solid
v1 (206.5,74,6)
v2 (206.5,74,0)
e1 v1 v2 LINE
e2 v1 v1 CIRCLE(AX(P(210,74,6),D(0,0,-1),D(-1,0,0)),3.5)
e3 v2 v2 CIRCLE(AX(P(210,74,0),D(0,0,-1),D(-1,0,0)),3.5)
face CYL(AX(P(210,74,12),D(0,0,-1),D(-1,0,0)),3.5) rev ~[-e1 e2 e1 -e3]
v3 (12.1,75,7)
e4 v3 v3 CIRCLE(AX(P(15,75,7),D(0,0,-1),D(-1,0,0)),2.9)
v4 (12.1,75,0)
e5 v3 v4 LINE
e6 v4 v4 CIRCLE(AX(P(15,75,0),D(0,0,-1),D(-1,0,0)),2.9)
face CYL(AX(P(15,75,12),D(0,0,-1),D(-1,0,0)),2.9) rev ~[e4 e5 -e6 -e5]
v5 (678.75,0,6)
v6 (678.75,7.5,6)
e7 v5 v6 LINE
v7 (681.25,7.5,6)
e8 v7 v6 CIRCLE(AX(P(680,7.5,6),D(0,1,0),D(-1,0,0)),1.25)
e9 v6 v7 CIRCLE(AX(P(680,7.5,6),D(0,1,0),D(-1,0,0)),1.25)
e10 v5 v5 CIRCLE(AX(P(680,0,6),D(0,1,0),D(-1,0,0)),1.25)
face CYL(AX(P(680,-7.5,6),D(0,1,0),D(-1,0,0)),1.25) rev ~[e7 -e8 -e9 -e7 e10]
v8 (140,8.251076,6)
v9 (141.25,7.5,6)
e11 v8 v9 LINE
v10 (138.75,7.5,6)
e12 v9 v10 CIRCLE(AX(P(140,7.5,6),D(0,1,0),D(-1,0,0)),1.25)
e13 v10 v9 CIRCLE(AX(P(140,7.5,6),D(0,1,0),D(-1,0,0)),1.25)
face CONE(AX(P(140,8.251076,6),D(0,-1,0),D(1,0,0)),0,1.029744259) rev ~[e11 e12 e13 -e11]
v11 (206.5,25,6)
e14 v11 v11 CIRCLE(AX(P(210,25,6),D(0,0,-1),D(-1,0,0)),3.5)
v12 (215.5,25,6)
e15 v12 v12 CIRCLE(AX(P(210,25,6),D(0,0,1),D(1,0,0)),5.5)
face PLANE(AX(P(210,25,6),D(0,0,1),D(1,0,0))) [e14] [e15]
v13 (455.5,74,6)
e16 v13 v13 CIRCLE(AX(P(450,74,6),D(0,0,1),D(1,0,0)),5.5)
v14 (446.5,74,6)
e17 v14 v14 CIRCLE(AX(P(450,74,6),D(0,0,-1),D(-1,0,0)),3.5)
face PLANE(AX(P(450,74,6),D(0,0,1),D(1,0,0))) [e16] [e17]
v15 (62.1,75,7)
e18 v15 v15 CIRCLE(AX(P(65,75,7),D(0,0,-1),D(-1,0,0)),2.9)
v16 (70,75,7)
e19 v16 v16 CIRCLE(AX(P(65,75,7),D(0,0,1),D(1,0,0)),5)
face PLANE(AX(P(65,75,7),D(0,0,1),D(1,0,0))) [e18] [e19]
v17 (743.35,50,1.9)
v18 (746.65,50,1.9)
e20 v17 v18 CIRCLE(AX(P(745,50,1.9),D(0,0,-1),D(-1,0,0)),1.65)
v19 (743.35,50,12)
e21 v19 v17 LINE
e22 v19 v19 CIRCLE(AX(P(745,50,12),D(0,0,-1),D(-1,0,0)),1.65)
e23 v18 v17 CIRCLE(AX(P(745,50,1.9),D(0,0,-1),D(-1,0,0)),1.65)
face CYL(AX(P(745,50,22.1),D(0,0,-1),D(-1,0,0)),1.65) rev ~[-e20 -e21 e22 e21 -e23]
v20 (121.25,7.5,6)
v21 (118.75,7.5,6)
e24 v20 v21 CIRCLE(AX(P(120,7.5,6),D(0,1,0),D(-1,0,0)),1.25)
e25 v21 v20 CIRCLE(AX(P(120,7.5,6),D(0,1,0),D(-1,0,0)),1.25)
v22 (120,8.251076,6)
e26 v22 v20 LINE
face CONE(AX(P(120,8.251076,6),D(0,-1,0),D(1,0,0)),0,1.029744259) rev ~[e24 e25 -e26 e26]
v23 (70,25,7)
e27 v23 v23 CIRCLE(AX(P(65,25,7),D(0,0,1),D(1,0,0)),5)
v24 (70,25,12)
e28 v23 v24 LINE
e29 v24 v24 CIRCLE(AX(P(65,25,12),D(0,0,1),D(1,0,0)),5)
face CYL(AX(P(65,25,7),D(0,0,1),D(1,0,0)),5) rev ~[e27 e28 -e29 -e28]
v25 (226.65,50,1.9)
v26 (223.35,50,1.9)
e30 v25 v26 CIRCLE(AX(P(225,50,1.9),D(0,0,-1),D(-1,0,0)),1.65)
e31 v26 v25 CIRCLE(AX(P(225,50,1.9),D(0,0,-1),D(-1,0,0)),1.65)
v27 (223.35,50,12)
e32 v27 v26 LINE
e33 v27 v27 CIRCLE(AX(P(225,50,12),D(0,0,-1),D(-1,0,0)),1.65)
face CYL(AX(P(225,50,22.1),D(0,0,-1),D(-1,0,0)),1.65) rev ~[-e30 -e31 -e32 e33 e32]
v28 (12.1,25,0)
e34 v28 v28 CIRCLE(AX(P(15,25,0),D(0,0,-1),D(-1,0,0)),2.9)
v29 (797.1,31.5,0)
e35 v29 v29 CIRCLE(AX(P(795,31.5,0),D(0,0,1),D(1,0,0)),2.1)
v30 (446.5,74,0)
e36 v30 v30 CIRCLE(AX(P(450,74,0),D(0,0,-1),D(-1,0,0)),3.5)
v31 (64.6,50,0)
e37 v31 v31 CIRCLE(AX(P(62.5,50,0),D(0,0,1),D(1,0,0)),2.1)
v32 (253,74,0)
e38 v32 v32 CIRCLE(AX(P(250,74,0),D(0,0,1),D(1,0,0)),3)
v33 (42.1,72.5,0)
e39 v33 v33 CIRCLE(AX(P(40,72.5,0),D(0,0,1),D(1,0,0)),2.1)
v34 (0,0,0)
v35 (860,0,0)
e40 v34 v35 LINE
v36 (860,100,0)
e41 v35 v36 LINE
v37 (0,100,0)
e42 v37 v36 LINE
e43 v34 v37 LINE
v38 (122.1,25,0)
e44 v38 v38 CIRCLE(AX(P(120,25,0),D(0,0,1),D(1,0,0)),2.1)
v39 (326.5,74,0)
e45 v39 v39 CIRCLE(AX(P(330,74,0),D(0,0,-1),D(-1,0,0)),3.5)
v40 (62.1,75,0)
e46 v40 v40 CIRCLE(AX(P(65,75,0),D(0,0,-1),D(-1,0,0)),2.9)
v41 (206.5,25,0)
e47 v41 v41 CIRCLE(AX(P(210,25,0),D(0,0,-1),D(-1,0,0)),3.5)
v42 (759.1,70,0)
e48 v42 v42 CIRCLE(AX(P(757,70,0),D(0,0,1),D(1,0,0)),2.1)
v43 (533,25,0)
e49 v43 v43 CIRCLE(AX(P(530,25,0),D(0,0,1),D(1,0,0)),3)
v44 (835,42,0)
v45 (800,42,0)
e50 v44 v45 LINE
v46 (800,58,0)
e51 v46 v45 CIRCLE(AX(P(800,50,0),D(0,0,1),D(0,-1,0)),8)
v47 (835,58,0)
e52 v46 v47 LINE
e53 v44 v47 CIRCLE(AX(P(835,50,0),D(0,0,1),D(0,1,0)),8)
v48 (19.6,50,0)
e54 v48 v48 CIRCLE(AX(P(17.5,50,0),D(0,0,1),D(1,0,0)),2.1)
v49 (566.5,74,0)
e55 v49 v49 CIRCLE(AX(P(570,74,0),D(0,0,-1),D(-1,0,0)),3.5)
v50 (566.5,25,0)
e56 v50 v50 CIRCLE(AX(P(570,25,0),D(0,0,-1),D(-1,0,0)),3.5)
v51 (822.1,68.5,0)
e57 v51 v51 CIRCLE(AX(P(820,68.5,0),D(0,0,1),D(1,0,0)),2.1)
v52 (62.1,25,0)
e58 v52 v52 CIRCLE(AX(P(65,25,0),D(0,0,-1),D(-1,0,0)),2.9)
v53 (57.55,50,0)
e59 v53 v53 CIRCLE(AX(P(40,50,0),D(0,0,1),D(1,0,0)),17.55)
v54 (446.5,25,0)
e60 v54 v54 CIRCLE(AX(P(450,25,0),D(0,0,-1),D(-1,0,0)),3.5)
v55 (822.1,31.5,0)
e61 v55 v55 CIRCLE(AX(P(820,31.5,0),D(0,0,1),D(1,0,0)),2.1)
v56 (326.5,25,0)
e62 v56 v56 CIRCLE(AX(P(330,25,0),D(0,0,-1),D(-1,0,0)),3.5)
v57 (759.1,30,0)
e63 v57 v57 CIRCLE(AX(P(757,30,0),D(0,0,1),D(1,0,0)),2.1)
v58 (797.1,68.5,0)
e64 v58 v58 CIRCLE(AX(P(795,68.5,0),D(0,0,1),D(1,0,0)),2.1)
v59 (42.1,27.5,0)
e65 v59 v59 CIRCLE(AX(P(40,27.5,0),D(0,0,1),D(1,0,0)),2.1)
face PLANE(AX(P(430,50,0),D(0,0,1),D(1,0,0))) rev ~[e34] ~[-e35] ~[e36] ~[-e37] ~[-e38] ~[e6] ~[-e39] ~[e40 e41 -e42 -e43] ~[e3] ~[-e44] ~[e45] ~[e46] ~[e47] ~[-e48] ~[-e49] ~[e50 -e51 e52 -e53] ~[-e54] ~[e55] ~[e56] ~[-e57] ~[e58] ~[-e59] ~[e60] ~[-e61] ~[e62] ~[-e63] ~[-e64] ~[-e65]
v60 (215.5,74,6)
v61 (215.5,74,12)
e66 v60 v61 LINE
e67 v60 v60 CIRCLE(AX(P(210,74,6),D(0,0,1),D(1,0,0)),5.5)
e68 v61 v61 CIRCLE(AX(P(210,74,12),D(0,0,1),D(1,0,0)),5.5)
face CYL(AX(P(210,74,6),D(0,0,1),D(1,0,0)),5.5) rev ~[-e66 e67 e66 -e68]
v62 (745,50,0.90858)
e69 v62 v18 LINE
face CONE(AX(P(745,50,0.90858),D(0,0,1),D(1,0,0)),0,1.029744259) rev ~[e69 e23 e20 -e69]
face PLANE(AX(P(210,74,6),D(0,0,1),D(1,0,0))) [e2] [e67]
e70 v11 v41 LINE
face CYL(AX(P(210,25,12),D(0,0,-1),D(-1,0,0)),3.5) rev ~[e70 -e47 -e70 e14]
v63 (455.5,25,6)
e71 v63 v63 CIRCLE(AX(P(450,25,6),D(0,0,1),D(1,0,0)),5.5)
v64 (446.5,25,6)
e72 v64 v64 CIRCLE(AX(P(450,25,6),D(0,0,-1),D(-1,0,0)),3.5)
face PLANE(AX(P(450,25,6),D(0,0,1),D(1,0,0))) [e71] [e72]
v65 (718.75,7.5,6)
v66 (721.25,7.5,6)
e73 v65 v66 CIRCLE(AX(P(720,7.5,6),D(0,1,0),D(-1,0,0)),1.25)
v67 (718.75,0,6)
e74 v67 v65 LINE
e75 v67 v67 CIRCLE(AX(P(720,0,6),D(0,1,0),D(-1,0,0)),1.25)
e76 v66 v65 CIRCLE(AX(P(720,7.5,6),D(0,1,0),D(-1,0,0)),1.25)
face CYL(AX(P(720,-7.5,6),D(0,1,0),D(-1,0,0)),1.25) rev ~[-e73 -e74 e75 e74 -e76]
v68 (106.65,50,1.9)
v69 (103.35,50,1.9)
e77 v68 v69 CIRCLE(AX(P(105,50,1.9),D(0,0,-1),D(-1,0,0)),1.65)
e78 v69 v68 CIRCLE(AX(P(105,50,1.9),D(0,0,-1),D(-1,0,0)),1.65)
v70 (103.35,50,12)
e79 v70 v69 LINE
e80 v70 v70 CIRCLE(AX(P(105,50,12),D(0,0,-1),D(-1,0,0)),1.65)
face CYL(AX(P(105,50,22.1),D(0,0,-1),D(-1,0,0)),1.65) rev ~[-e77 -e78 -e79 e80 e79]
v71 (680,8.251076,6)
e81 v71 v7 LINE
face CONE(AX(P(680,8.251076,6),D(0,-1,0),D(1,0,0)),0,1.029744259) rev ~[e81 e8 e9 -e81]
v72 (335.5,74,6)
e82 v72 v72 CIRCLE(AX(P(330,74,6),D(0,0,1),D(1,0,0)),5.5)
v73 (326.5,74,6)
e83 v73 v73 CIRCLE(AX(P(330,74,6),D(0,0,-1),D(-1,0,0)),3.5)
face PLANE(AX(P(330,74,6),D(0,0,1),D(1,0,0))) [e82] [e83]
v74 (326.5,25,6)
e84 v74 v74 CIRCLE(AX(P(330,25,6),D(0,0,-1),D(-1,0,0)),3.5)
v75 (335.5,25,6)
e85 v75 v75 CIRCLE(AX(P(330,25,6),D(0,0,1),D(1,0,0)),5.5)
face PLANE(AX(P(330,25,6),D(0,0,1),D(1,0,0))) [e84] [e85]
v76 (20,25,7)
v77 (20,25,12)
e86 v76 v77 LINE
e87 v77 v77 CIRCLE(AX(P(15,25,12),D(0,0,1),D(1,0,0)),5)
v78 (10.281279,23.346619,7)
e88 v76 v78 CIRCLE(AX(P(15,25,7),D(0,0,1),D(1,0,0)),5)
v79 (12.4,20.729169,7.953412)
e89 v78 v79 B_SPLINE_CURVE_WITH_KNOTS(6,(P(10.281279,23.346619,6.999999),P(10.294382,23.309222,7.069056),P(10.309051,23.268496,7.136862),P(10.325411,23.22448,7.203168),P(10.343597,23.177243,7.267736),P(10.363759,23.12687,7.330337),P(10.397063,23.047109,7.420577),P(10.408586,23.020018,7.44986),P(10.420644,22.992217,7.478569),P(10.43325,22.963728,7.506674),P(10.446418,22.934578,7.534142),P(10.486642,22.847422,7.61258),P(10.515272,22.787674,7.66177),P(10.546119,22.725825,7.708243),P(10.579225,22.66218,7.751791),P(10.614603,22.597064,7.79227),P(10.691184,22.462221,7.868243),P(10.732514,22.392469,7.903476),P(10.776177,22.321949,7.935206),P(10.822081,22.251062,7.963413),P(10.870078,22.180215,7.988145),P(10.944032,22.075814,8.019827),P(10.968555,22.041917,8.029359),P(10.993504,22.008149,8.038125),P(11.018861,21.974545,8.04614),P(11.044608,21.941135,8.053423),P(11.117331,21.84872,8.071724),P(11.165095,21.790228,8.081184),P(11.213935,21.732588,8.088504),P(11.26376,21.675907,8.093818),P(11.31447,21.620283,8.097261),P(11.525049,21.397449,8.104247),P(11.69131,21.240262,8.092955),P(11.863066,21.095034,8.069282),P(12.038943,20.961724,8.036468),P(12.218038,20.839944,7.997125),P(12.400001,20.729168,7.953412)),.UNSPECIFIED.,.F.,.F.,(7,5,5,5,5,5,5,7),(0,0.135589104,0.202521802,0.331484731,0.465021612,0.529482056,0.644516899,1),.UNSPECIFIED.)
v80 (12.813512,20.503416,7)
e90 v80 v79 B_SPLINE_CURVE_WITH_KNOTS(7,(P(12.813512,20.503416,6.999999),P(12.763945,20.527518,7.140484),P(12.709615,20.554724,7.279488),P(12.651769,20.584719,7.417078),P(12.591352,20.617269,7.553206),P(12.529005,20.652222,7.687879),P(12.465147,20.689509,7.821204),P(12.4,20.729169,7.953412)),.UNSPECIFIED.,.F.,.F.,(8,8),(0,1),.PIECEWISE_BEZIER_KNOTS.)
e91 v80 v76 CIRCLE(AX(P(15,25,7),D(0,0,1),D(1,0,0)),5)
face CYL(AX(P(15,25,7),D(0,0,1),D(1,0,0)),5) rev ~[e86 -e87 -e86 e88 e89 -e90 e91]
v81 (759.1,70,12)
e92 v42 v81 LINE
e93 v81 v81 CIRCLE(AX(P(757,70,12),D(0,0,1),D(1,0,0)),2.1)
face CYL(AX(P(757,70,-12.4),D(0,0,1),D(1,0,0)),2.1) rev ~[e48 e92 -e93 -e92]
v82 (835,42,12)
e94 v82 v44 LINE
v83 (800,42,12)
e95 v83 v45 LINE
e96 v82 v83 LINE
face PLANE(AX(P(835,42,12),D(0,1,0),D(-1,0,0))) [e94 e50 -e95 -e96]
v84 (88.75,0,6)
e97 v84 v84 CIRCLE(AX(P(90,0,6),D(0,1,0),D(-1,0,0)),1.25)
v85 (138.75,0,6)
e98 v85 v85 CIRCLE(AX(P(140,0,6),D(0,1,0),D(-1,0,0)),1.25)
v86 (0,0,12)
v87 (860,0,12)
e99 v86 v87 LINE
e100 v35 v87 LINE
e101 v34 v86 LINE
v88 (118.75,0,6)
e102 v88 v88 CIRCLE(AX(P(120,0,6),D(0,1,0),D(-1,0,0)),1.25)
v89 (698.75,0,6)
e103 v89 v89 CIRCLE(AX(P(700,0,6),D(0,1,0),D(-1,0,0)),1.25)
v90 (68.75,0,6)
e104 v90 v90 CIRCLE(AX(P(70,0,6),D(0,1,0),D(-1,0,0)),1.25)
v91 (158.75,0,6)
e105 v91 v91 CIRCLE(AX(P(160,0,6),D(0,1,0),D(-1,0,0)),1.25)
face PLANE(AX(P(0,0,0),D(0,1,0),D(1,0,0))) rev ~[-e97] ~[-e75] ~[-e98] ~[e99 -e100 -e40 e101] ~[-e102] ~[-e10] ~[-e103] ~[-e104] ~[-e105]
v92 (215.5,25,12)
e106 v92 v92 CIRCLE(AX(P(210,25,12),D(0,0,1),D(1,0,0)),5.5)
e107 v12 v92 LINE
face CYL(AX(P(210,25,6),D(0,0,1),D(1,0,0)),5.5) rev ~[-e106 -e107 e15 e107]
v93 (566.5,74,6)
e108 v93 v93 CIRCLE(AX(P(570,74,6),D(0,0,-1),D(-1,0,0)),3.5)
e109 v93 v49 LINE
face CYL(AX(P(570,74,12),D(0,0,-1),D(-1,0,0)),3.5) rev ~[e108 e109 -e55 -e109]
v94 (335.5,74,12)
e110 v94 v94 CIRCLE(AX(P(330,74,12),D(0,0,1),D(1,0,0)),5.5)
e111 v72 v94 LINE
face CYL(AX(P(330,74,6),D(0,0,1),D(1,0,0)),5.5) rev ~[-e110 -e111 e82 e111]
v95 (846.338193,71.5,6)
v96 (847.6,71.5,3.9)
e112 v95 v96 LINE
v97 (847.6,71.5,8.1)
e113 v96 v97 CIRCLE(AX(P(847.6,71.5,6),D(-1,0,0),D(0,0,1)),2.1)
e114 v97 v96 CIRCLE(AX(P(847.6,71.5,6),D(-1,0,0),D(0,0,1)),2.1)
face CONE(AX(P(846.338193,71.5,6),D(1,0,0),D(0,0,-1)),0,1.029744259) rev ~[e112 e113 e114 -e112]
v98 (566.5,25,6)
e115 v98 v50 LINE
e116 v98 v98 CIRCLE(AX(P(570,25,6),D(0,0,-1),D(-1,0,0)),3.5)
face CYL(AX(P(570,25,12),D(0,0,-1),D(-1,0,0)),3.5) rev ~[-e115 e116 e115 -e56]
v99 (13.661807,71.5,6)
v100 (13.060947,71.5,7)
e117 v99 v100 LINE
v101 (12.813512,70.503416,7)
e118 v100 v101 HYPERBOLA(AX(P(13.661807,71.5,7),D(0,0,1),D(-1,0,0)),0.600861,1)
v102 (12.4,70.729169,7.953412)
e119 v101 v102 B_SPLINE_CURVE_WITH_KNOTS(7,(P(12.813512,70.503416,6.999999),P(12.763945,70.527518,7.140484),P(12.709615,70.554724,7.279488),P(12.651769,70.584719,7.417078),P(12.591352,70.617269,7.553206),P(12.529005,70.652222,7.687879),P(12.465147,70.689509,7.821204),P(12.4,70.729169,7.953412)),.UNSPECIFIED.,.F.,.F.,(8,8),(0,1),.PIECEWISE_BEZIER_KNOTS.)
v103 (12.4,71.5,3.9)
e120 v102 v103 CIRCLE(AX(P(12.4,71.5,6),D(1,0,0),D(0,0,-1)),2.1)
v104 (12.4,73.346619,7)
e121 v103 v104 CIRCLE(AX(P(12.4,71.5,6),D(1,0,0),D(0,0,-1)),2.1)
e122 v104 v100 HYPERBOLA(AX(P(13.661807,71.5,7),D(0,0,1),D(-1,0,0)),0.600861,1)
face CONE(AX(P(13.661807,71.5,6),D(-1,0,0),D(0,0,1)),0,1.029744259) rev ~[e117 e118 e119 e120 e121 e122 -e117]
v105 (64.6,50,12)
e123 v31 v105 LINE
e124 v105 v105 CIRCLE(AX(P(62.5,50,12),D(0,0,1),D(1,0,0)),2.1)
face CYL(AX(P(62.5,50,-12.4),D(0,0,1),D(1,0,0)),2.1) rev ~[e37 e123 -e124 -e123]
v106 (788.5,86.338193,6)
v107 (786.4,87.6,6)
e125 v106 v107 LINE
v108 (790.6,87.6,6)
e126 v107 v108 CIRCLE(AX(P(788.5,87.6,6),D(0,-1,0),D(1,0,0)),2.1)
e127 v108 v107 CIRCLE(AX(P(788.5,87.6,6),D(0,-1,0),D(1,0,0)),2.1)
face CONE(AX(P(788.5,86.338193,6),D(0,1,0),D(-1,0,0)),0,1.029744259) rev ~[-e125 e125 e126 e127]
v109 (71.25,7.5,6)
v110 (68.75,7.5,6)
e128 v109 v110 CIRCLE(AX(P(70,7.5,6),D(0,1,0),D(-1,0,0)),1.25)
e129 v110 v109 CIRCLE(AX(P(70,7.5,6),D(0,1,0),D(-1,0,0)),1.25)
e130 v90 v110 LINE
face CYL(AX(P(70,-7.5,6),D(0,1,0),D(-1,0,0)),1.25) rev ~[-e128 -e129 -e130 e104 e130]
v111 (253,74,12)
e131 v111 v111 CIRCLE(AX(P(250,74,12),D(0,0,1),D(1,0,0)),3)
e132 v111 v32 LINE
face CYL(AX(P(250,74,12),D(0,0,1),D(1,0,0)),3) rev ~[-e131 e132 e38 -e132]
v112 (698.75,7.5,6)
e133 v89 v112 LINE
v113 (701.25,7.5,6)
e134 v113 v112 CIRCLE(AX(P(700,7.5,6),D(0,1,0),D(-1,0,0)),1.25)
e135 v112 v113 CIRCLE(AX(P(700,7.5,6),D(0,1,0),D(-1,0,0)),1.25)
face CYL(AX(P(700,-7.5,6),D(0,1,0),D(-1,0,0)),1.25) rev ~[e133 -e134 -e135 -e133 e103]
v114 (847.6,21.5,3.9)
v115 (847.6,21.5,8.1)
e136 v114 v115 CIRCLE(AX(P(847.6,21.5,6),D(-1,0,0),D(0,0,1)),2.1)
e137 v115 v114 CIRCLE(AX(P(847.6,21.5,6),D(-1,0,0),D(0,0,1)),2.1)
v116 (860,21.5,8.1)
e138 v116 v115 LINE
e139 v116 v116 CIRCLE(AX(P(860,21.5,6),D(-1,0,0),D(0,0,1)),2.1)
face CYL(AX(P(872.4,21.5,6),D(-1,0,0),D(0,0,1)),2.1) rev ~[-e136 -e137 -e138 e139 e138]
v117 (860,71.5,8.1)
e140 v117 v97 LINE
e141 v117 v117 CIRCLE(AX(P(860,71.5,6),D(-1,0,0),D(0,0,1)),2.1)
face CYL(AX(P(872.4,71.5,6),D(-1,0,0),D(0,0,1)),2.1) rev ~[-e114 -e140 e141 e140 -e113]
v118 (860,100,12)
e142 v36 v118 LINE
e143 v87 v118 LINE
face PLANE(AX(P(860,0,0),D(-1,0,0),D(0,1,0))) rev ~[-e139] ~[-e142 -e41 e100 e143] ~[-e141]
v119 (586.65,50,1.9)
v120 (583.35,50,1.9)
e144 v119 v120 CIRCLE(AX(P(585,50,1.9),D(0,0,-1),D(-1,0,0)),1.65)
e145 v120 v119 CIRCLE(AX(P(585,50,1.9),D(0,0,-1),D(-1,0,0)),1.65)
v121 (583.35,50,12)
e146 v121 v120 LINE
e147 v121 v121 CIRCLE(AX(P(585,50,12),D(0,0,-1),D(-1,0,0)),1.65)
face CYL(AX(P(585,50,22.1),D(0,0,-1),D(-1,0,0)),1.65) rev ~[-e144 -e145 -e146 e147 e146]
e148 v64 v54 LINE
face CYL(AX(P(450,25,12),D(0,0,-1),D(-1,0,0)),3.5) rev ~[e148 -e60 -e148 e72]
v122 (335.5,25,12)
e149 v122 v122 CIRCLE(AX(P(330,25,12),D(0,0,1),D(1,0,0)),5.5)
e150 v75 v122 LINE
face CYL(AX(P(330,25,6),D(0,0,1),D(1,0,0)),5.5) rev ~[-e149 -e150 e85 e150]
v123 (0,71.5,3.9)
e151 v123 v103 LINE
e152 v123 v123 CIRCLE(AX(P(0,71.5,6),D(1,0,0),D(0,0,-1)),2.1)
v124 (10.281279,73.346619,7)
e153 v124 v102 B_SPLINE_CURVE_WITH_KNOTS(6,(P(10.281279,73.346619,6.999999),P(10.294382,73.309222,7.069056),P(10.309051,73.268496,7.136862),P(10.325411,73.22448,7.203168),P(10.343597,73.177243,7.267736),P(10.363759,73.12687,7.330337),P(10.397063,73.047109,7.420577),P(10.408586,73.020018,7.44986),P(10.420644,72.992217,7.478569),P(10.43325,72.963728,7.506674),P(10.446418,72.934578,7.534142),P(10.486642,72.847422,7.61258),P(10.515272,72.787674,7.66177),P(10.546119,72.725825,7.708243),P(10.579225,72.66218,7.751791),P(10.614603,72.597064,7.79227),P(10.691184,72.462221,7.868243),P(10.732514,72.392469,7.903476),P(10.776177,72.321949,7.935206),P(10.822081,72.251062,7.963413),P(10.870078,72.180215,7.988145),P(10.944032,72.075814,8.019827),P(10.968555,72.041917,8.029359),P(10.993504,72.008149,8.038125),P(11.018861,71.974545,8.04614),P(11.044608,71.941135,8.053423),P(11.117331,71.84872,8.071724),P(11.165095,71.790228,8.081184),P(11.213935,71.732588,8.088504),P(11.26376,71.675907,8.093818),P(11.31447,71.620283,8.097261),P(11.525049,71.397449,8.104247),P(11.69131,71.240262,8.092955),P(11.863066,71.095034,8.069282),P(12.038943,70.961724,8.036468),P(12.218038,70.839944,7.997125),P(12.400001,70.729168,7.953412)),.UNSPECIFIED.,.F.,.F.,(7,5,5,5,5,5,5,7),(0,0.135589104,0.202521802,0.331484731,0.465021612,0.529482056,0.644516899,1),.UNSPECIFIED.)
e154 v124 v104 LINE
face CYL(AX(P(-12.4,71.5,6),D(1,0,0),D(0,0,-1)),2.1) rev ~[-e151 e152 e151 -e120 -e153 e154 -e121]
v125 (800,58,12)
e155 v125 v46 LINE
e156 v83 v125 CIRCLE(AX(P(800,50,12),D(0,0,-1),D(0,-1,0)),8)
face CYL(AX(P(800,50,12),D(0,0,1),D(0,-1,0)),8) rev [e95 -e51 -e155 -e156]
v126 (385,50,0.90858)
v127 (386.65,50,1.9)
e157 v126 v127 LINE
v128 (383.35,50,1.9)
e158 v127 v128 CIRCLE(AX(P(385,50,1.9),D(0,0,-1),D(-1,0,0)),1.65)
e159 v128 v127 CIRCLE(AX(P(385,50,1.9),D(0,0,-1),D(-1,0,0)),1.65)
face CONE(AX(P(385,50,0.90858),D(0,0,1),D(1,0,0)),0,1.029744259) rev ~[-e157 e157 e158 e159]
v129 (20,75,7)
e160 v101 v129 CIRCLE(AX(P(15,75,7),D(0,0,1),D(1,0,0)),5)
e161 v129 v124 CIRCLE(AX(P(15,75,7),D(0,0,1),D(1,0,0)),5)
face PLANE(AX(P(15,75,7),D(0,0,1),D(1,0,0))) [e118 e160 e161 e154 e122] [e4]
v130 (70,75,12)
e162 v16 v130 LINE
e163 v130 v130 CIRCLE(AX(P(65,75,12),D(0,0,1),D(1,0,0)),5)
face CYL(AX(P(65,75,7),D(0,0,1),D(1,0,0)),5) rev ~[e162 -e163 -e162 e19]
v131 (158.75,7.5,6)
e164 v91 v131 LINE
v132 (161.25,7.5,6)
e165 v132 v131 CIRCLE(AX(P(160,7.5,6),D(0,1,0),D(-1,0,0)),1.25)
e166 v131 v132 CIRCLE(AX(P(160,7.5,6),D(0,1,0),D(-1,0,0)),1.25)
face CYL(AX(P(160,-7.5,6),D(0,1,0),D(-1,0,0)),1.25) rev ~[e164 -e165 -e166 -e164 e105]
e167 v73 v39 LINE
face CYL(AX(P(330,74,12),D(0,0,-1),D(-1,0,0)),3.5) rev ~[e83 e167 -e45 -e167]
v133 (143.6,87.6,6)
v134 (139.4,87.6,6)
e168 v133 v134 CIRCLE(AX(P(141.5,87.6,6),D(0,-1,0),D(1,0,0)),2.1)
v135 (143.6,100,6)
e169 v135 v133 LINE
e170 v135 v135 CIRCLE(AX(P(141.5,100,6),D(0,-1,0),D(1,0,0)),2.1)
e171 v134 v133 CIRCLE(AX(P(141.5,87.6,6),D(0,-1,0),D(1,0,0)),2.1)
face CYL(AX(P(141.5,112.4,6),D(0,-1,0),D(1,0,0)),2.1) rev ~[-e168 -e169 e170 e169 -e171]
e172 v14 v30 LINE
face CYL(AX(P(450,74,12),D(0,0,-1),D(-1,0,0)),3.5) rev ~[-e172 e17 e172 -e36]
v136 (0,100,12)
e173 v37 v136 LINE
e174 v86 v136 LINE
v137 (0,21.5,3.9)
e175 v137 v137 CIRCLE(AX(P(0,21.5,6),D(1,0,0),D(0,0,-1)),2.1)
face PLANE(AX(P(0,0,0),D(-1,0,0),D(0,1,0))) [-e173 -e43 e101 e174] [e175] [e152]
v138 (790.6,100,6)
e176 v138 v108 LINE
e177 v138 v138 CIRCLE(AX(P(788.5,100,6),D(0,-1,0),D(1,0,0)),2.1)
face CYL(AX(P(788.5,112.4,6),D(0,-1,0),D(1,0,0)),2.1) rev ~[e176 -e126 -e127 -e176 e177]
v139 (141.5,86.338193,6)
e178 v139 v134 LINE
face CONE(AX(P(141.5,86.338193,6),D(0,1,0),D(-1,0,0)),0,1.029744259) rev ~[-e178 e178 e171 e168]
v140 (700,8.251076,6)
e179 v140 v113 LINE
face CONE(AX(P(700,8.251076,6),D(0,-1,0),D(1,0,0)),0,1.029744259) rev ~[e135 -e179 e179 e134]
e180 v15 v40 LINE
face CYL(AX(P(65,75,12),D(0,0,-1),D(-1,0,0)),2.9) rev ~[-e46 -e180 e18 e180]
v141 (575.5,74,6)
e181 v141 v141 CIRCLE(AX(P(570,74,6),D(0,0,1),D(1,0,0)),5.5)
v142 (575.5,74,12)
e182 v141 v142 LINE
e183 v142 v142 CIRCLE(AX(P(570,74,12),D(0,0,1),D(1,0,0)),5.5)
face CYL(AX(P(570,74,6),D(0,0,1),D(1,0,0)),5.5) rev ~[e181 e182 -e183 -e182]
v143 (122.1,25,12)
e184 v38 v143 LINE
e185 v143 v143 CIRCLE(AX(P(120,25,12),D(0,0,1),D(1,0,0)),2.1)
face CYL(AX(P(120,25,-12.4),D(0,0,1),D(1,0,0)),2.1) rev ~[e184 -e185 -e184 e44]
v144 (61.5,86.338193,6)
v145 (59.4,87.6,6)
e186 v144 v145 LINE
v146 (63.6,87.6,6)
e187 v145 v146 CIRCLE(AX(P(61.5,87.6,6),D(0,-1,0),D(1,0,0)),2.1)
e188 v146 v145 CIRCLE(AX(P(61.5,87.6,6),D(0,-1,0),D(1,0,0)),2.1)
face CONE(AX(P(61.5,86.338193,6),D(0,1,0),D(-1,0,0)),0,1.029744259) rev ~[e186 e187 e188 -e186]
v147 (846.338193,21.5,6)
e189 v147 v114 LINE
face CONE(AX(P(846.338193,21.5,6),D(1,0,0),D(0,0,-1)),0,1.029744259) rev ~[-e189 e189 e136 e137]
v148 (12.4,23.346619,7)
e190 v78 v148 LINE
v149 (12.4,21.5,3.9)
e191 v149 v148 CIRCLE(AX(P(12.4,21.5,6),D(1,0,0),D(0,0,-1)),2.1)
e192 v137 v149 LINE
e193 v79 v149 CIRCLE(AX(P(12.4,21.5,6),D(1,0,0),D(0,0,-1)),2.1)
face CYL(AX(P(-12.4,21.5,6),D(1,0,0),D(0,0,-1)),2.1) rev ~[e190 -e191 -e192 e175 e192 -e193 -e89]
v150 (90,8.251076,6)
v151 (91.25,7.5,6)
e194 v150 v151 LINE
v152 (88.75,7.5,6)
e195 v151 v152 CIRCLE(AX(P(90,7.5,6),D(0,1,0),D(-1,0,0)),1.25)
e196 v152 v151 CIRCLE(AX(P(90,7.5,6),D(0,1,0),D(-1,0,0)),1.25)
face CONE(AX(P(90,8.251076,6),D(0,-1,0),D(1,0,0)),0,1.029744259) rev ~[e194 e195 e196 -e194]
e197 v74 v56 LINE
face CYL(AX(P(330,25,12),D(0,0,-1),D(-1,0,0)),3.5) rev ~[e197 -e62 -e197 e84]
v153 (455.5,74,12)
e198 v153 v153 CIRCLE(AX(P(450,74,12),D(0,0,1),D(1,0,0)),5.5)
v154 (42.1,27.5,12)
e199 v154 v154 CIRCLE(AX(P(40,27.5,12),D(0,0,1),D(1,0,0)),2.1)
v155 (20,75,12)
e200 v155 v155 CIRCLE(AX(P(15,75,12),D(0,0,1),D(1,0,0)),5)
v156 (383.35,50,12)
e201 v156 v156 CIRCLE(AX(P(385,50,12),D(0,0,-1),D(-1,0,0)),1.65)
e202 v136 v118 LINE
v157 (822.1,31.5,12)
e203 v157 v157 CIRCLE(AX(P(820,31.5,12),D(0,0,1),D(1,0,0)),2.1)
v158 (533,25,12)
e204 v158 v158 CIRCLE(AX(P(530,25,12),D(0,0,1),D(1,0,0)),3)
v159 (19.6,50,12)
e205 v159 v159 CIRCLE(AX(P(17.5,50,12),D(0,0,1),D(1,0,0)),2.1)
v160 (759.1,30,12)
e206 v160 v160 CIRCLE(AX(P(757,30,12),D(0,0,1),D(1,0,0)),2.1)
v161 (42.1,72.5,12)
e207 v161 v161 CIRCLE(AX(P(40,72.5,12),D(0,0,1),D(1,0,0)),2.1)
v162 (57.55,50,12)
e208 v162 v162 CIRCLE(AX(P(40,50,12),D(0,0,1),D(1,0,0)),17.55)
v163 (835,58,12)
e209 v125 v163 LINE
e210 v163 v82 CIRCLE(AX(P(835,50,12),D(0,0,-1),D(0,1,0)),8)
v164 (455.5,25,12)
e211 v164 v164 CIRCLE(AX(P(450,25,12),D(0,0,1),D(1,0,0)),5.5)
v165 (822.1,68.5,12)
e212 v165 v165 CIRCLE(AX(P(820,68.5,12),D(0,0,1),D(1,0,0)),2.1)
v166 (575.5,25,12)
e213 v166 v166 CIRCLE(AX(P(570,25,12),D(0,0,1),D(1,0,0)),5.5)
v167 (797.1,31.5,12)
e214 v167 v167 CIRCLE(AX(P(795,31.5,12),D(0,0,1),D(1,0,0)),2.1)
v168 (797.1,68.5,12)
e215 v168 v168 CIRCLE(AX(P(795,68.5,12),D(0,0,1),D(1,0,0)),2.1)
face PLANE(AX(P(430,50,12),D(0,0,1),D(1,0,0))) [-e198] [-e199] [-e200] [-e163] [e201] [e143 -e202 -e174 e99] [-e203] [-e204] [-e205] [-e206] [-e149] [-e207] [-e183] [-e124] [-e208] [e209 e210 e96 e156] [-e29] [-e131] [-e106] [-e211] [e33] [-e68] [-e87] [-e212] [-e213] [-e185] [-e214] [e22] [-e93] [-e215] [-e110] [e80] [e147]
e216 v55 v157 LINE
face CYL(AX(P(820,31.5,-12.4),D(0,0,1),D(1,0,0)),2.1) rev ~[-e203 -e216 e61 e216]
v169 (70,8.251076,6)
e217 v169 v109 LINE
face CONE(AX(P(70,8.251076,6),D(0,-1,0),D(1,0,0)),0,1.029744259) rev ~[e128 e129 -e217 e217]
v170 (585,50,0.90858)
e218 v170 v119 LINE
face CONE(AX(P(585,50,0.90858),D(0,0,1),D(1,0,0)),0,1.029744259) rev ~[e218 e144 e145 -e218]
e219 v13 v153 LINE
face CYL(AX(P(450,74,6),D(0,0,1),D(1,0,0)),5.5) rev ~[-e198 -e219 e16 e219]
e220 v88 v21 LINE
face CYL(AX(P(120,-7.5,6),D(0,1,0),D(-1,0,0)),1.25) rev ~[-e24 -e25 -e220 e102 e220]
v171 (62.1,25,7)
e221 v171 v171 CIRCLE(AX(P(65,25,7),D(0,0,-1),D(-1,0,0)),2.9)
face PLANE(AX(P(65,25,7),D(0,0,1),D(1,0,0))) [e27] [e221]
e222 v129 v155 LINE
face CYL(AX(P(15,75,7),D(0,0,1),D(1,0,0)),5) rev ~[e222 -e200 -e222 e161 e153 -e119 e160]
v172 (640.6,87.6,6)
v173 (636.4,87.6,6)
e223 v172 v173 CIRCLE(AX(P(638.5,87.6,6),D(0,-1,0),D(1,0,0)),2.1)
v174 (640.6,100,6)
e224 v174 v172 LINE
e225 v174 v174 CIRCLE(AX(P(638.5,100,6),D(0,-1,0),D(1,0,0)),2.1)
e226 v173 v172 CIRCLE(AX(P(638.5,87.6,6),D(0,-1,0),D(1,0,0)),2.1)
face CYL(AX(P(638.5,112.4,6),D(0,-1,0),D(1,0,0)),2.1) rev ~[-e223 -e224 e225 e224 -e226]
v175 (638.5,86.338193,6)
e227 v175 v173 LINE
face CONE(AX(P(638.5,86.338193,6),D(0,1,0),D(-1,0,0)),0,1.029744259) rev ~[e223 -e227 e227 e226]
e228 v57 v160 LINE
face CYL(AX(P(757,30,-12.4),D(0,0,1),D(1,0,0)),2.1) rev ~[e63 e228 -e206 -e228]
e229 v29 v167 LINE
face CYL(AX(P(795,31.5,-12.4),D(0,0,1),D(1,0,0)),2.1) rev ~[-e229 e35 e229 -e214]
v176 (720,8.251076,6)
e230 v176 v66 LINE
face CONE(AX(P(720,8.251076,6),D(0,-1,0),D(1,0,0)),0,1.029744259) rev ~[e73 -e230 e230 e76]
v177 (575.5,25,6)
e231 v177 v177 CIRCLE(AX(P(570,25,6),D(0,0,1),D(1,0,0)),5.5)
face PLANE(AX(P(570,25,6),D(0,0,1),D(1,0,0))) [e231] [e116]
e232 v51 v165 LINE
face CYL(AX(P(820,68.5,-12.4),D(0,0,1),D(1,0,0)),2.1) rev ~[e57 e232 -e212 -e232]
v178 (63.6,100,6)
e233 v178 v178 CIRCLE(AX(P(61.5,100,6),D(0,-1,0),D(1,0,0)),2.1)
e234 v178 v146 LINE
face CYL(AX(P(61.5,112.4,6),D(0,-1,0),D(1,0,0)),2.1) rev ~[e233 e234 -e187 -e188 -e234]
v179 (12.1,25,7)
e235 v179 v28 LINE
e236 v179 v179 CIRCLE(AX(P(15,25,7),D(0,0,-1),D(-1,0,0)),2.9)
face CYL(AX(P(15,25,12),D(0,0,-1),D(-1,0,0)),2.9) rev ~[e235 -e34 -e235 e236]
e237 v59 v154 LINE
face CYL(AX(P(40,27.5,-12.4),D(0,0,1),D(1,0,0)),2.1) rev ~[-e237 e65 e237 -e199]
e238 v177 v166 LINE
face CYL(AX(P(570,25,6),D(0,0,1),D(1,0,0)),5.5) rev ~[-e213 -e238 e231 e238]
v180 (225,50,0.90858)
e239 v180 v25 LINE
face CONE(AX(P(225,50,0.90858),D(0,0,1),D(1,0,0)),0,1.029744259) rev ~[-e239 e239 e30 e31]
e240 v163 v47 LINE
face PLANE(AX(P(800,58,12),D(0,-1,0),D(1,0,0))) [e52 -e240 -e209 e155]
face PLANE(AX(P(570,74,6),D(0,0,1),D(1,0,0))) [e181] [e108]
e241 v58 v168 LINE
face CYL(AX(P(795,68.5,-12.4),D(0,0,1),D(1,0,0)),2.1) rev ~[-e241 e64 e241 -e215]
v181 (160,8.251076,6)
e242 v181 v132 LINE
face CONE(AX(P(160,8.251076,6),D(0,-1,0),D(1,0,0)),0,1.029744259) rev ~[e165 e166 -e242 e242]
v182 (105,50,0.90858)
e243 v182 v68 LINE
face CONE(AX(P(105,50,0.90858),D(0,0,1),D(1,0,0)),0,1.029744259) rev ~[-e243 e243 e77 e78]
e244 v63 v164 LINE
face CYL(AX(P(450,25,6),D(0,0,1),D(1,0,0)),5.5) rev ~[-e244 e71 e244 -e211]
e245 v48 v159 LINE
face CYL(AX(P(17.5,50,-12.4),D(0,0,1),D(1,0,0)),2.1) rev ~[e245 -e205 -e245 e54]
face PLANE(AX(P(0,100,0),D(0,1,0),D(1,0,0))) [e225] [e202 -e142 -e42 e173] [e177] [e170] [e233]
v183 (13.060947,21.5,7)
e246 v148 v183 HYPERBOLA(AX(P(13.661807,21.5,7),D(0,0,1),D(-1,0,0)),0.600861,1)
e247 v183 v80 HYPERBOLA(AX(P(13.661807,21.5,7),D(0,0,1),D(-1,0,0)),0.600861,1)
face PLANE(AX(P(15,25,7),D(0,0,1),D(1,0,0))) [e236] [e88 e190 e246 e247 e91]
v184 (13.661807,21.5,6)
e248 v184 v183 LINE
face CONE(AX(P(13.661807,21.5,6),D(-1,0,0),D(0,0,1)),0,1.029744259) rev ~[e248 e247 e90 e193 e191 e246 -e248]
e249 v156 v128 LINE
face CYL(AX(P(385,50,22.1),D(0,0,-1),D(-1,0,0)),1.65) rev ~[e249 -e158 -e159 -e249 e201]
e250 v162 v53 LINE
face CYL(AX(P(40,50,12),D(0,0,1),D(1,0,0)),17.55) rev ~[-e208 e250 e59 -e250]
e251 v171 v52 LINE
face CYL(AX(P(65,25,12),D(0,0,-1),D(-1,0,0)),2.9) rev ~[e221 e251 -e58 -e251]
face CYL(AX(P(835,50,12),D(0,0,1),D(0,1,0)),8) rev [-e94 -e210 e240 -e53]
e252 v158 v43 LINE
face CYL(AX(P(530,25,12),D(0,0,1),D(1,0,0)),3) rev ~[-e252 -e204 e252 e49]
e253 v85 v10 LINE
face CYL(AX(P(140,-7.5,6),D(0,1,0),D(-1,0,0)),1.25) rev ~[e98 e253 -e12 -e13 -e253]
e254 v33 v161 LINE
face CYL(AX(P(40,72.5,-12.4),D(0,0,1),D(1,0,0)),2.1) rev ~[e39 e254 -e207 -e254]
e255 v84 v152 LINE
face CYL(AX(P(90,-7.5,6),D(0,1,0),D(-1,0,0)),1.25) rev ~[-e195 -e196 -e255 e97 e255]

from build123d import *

# Parameters (mm, degrees)
SKETCH_1_W                     = 860
SKETCH_1_H                     = 100
EXTRUDE_1_DEPTH                = 12
SKETCH_2_R                     = 17.55
CUT_EXTRUDE_1_DEPTH            = 866.877589501
HOLE_WIZARD_M5_1_D             = 4.2
HOLE_WIZARD_M5_1_DEPTH         = 12.4
HOLE_WIZARD_M5_1_TIP           = 1.2618073
HOLE_WIZARD_M5_2_D             = 4.2
HOLE_WIZARD_M5_2_DEPTH         = 12.4
HOLE_WIZARD_M5_2_TIP           = 1.2618073
HOLE_WIZARD_M5_3_D             = 4.2
HOLE_WIZARD_M5_3_DEPTH         = 12.4
HOLE_WIZARD_M5_3_TIP           = 1.2618073
SKETCH_9_R                     = 3
CUT_EXTRUDE_2_DEPTH            = 866.877589501
HOLE_WIZARD_M6_1_D             = 7
HOLE_WIZARD_M6_1_CBORE_D       = 11
HOLE_WIZARD_M6_1_CBORE_DEPTH   = 6
HOLE_WIZARD_M4_1_D             = 3.3
HOLE_WIZARD_M4_1_DEPTH         = 10.1
HOLE_WIZARD_M4_1_TIP           = 0.991420021
HOLE_WIZARD_M5_4_D             = 4.2
HOLE_WIZARD_M5_4_DEPTH         = 12.4
HOLE_WIZARD_M5_4_TIP           = 1.2618073
HOLE_WIZARD_M5_5_D             = 4.2
HOLE_WIZARD_M5_5_DEPTH         = 12.4
HOLE_WIZARD_M5_5_TIP           = 1.2618073
HOLE_WIZARD_M5_1_2_D           = 5.8
HOLE_WIZARD_M5_1_2_CBORE_D     = 10
HOLE_WIZARD_M5_1_2_CBORE_DEPTH = 5
HOLE_WIZARD_M5_6_D             = 4.2
HOLE_WIZARD_M5_6_DEPTH         = 12.4
HOLE_WIZARD_M5_6_TIP           = 1.2618073
HOLE_WIZARD_M5_7_D             = 4.2
HOLE_WIZARD_M5_7_DEPTH         = 12.4
HOLE_WIZARD_M5_7_TIP           = 1.2618073
HOLE_WIZARD_M3_1_D             = 2.5
HOLE_WIZARD_M3_1_DEPTH         = 7.5
HOLE_WIZARD_M3_1_TIP           = 0.751075774


with BuildPart() as part:
    # 草图1 → 凸台-拉伸1 (new body)
    with BuildSketch(Plane.XY):
        with Locations((430, 50)):
            Rectangle(SKETCH_1_W, SKETCH_1_H)
    extrude(amount=EXTRUDE_1_DEPTH)

    # 草图2 → 切除-拉伸1 (cut, through all)
    with BuildSketch(Plane.XY.offset(12)):
        with Locations((40, 50)):
            Circle(SKETCH_2_R)
        with BuildLine():
            Line((800, 58), (835, 58))
            ThreePointArc((835, 58), (843, 50), (835, 42))
            Line((835, 42), (800, 42))
            ThreePointArc((800, 42), (792, 50), (800, 58))
        make_face()
    extrude(amount=-CUT_EXTRUDE_1_DEPTH, mode=Mode.SUBTRACT)

    # Hole Wizard M5 _1
    with Locations(Plane(origin=(0, 100, 0), x_dir=(-1, 0, 0), z_dir=(0, 1, 0))):
        with Locations((-141.5, 6), (-61.5, 6), (-788.5, 6), (-638.5, 6)):
            Hole(HOLE_WIZARD_M5_1_D / 2, depth=HOLE_WIZARD_M5_1_DEPTH)
            with Locations((0, 0, -(HOLE_WIZARD_M5_1_DEPTH + HOLE_WIZARD_M5_1_TIP / 2))):  # 118° drill point
                Cone(0, HOLE_WIZARD_M5_1_D / 2, HOLE_WIZARD_M5_1_TIP, mode=Mode.SUBTRACT)

    # M5 螺纹孔2
    with Locations(Plane.ZY):
        with Locations((6, 71.5), (6, 21.5)):
            Hole(HOLE_WIZARD_M5_2_D / 2, depth=HOLE_WIZARD_M5_2_DEPTH)
            with Locations((0, 0, -(HOLE_WIZARD_M5_2_DEPTH + HOLE_WIZARD_M5_2_TIP / 2))):  # 118° drill point
                Cone(0, HOLE_WIZARD_M5_2_D / 2, HOLE_WIZARD_M5_2_TIP, mode=Mode.SUBTRACT)

    # M5 螺纹孔3
    with Locations(Plane(origin=(860, 0, 0), x_dir=(0, 0, -1), z_dir=(1, 0, 0))):
        with Locations((-6, 71.5), (-6, 21.5)):
            Hole(HOLE_WIZARD_M5_3_D / 2, depth=HOLE_WIZARD_M5_3_DEPTH)
            with Locations((0, 0, -(HOLE_WIZARD_M5_3_DEPTH + HOLE_WIZARD_M5_3_TIP / 2))):  # 118° drill point
                Cone(0, HOLE_WIZARD_M5_3_D / 2, HOLE_WIZARD_M5_3_TIP, mode=Mode.SUBTRACT)

    # 草图9 → 切除-拉伸2 (cut, through all)
    with BuildSketch(Plane.XY.offset(12)):
        with Locations((250, 74)):
            Circle(SKETCH_9_R)
        with Locations((530, 25)):
            Circle(SKETCH_9_R)
    extrude(amount=-CUT_EXTRUDE_2_DEPTH, mode=Mode.SUBTRACT)

    # M6 六角凹头螺钉的柱形沉头孔1 (through all)
    with Locations(Plane.XY.offset(12)):
        with Locations((210, 74), (330, 74), (450, 74), (570, 74), (570, 25), (450, 25), (330, 25), (210, 25)):
            CounterBoreHole(HOLE_WIZARD_M6_1_D / 2, HOLE_WIZARD_M6_1_CBORE_D / 2, HOLE_WIZARD_M6_1_CBORE_DEPTH)

    # M4 螺纹孔1
    with Locations(Plane.XY.offset(12)):
        with Locations((225, 50), (105, 50), (385, 50), (745, 50), (585, 50)):
            Hole(HOLE_WIZARD_M4_1_D / 2, depth=HOLE_WIZARD_M4_1_DEPTH)
            with Locations((0, 0, -(HOLE_WIZARD_M4_1_DEPTH + HOLE_WIZARD_M4_1_TIP / 2))):  # 118° drill point
                Cone(0, HOLE_WIZARD_M4_1_D / 2, HOLE_WIZARD_M4_1_TIP, mode=Mode.SUBTRACT)

    # M5 螺纹孔4
    with Locations(Plane(origin=(0, 0, 0), x_dir=(-1, 0, 0), z_dir=(0, 0, -1))):
        with Locations((-757, 70), (-757, 30)):
            Hole(HOLE_WIZARD_M5_4_D / 2, depth=HOLE_WIZARD_M5_4_DEPTH)
            with Locations((0, 0, -(HOLE_WIZARD_M5_4_DEPTH + HOLE_WIZARD_M5_4_TIP / 2))):  # 118° drill point
                Cone(0, HOLE_WIZARD_M5_4_D / 2, HOLE_WIZARD_M5_4_TIP, mode=Mode.SUBTRACT)

    # M5 螺纹孔5
    with Locations(Plane(origin=(0, 0, 0), x_dir=(-1, 0, 0), z_dir=(0, 0, -1))):
        with Locations((-795, 68.5), (-820, 68.5), (-795, 31.5), (-820, 31.5)):
            Hole(HOLE_WIZARD_M5_5_D / 2, depth=HOLE_WIZARD_M5_5_DEPTH)
            with Locations((0, 0, -(HOLE_WIZARD_M5_5_DEPTH + HOLE_WIZARD_M5_5_TIP / 2))):  # 118° drill point
                Cone(0, HOLE_WIZARD_M5_5_D / 2, HOLE_WIZARD_M5_5_TIP, mode=Mode.SUBTRACT)

    # Hole Wizard M5 _1 2 (through all)
    with Locations(Plane.XY.offset(12)):
        with Locations((15, 25), (15, 75), (65, 75), (65, 25)):
            CounterBoreHole(HOLE_WIZARD_M5_1_2_D / 2, HOLE_WIZARD_M5_1_2_CBORE_D / 2, HOLE_WIZARD_M5_1_2_CBORE_DEPTH)

    # M5 螺纹孔6
    with Locations(Plane(origin=(0, 0, 0), x_dir=(-1, 0, 0), z_dir=(0, 0, -1))):
        with Locations((-17.5, 50), (-40, 27.5), (-40, 72.5), (-62.5, 50)):
            Hole(HOLE_WIZARD_M5_6_D / 2, depth=HOLE_WIZARD_M5_6_DEPTH)
            with Locations((0, 0, -(HOLE_WIZARD_M5_6_DEPTH + HOLE_WIZARD_M5_6_TIP / 2))):  # 118° drill point
                Cone(0, HOLE_WIZARD_M5_6_D / 2, HOLE_WIZARD_M5_6_TIP, mode=Mode.SUBTRACT)

    # M5 螺纹孔7
    with Locations(Plane(origin=(0, 0, 0), x_dir=(-1, 0, 0), z_dir=(0, 0, -1))):
        with Locations((-120, 25)):
            Hole(HOLE_WIZARD_M5_7_D / 2, depth=HOLE_WIZARD_M5_7_DEPTH)
            with Locations((0, 0, -(HOLE_WIZARD_M5_7_DEPTH + HOLE_WIZARD_M5_7_TIP / 2))):  # 118° drill point
                Cone(0, HOLE_WIZARD_M5_7_D / 2, HOLE_WIZARD_M5_7_TIP, mode=Mode.SUBTRACT)

    # M3 螺纹孔1
    with Locations(Plane.XZ):
        with Locations((120, 6), (140, 6), (160, 6), (680, 6), (700, 6), (720, 6), (90, 6), (70, 6)):
            Hole(HOLE_WIZARD_M3_1_D / 2, depth=HOLE_WIZARD_M3_1_DEPTH)
            with Locations((0, 0, -(HOLE_WIZARD_M3_1_DEPTH + HOLE_WIZARD_M3_1_TIP / 2))):  # 118° drill point
                Cone(0, HOLE_WIZARD_M3_1_D / 2, HOLE_WIZARD_M3_1_TIP, mode=Mode.SUBTRACT)


solid = part.part
